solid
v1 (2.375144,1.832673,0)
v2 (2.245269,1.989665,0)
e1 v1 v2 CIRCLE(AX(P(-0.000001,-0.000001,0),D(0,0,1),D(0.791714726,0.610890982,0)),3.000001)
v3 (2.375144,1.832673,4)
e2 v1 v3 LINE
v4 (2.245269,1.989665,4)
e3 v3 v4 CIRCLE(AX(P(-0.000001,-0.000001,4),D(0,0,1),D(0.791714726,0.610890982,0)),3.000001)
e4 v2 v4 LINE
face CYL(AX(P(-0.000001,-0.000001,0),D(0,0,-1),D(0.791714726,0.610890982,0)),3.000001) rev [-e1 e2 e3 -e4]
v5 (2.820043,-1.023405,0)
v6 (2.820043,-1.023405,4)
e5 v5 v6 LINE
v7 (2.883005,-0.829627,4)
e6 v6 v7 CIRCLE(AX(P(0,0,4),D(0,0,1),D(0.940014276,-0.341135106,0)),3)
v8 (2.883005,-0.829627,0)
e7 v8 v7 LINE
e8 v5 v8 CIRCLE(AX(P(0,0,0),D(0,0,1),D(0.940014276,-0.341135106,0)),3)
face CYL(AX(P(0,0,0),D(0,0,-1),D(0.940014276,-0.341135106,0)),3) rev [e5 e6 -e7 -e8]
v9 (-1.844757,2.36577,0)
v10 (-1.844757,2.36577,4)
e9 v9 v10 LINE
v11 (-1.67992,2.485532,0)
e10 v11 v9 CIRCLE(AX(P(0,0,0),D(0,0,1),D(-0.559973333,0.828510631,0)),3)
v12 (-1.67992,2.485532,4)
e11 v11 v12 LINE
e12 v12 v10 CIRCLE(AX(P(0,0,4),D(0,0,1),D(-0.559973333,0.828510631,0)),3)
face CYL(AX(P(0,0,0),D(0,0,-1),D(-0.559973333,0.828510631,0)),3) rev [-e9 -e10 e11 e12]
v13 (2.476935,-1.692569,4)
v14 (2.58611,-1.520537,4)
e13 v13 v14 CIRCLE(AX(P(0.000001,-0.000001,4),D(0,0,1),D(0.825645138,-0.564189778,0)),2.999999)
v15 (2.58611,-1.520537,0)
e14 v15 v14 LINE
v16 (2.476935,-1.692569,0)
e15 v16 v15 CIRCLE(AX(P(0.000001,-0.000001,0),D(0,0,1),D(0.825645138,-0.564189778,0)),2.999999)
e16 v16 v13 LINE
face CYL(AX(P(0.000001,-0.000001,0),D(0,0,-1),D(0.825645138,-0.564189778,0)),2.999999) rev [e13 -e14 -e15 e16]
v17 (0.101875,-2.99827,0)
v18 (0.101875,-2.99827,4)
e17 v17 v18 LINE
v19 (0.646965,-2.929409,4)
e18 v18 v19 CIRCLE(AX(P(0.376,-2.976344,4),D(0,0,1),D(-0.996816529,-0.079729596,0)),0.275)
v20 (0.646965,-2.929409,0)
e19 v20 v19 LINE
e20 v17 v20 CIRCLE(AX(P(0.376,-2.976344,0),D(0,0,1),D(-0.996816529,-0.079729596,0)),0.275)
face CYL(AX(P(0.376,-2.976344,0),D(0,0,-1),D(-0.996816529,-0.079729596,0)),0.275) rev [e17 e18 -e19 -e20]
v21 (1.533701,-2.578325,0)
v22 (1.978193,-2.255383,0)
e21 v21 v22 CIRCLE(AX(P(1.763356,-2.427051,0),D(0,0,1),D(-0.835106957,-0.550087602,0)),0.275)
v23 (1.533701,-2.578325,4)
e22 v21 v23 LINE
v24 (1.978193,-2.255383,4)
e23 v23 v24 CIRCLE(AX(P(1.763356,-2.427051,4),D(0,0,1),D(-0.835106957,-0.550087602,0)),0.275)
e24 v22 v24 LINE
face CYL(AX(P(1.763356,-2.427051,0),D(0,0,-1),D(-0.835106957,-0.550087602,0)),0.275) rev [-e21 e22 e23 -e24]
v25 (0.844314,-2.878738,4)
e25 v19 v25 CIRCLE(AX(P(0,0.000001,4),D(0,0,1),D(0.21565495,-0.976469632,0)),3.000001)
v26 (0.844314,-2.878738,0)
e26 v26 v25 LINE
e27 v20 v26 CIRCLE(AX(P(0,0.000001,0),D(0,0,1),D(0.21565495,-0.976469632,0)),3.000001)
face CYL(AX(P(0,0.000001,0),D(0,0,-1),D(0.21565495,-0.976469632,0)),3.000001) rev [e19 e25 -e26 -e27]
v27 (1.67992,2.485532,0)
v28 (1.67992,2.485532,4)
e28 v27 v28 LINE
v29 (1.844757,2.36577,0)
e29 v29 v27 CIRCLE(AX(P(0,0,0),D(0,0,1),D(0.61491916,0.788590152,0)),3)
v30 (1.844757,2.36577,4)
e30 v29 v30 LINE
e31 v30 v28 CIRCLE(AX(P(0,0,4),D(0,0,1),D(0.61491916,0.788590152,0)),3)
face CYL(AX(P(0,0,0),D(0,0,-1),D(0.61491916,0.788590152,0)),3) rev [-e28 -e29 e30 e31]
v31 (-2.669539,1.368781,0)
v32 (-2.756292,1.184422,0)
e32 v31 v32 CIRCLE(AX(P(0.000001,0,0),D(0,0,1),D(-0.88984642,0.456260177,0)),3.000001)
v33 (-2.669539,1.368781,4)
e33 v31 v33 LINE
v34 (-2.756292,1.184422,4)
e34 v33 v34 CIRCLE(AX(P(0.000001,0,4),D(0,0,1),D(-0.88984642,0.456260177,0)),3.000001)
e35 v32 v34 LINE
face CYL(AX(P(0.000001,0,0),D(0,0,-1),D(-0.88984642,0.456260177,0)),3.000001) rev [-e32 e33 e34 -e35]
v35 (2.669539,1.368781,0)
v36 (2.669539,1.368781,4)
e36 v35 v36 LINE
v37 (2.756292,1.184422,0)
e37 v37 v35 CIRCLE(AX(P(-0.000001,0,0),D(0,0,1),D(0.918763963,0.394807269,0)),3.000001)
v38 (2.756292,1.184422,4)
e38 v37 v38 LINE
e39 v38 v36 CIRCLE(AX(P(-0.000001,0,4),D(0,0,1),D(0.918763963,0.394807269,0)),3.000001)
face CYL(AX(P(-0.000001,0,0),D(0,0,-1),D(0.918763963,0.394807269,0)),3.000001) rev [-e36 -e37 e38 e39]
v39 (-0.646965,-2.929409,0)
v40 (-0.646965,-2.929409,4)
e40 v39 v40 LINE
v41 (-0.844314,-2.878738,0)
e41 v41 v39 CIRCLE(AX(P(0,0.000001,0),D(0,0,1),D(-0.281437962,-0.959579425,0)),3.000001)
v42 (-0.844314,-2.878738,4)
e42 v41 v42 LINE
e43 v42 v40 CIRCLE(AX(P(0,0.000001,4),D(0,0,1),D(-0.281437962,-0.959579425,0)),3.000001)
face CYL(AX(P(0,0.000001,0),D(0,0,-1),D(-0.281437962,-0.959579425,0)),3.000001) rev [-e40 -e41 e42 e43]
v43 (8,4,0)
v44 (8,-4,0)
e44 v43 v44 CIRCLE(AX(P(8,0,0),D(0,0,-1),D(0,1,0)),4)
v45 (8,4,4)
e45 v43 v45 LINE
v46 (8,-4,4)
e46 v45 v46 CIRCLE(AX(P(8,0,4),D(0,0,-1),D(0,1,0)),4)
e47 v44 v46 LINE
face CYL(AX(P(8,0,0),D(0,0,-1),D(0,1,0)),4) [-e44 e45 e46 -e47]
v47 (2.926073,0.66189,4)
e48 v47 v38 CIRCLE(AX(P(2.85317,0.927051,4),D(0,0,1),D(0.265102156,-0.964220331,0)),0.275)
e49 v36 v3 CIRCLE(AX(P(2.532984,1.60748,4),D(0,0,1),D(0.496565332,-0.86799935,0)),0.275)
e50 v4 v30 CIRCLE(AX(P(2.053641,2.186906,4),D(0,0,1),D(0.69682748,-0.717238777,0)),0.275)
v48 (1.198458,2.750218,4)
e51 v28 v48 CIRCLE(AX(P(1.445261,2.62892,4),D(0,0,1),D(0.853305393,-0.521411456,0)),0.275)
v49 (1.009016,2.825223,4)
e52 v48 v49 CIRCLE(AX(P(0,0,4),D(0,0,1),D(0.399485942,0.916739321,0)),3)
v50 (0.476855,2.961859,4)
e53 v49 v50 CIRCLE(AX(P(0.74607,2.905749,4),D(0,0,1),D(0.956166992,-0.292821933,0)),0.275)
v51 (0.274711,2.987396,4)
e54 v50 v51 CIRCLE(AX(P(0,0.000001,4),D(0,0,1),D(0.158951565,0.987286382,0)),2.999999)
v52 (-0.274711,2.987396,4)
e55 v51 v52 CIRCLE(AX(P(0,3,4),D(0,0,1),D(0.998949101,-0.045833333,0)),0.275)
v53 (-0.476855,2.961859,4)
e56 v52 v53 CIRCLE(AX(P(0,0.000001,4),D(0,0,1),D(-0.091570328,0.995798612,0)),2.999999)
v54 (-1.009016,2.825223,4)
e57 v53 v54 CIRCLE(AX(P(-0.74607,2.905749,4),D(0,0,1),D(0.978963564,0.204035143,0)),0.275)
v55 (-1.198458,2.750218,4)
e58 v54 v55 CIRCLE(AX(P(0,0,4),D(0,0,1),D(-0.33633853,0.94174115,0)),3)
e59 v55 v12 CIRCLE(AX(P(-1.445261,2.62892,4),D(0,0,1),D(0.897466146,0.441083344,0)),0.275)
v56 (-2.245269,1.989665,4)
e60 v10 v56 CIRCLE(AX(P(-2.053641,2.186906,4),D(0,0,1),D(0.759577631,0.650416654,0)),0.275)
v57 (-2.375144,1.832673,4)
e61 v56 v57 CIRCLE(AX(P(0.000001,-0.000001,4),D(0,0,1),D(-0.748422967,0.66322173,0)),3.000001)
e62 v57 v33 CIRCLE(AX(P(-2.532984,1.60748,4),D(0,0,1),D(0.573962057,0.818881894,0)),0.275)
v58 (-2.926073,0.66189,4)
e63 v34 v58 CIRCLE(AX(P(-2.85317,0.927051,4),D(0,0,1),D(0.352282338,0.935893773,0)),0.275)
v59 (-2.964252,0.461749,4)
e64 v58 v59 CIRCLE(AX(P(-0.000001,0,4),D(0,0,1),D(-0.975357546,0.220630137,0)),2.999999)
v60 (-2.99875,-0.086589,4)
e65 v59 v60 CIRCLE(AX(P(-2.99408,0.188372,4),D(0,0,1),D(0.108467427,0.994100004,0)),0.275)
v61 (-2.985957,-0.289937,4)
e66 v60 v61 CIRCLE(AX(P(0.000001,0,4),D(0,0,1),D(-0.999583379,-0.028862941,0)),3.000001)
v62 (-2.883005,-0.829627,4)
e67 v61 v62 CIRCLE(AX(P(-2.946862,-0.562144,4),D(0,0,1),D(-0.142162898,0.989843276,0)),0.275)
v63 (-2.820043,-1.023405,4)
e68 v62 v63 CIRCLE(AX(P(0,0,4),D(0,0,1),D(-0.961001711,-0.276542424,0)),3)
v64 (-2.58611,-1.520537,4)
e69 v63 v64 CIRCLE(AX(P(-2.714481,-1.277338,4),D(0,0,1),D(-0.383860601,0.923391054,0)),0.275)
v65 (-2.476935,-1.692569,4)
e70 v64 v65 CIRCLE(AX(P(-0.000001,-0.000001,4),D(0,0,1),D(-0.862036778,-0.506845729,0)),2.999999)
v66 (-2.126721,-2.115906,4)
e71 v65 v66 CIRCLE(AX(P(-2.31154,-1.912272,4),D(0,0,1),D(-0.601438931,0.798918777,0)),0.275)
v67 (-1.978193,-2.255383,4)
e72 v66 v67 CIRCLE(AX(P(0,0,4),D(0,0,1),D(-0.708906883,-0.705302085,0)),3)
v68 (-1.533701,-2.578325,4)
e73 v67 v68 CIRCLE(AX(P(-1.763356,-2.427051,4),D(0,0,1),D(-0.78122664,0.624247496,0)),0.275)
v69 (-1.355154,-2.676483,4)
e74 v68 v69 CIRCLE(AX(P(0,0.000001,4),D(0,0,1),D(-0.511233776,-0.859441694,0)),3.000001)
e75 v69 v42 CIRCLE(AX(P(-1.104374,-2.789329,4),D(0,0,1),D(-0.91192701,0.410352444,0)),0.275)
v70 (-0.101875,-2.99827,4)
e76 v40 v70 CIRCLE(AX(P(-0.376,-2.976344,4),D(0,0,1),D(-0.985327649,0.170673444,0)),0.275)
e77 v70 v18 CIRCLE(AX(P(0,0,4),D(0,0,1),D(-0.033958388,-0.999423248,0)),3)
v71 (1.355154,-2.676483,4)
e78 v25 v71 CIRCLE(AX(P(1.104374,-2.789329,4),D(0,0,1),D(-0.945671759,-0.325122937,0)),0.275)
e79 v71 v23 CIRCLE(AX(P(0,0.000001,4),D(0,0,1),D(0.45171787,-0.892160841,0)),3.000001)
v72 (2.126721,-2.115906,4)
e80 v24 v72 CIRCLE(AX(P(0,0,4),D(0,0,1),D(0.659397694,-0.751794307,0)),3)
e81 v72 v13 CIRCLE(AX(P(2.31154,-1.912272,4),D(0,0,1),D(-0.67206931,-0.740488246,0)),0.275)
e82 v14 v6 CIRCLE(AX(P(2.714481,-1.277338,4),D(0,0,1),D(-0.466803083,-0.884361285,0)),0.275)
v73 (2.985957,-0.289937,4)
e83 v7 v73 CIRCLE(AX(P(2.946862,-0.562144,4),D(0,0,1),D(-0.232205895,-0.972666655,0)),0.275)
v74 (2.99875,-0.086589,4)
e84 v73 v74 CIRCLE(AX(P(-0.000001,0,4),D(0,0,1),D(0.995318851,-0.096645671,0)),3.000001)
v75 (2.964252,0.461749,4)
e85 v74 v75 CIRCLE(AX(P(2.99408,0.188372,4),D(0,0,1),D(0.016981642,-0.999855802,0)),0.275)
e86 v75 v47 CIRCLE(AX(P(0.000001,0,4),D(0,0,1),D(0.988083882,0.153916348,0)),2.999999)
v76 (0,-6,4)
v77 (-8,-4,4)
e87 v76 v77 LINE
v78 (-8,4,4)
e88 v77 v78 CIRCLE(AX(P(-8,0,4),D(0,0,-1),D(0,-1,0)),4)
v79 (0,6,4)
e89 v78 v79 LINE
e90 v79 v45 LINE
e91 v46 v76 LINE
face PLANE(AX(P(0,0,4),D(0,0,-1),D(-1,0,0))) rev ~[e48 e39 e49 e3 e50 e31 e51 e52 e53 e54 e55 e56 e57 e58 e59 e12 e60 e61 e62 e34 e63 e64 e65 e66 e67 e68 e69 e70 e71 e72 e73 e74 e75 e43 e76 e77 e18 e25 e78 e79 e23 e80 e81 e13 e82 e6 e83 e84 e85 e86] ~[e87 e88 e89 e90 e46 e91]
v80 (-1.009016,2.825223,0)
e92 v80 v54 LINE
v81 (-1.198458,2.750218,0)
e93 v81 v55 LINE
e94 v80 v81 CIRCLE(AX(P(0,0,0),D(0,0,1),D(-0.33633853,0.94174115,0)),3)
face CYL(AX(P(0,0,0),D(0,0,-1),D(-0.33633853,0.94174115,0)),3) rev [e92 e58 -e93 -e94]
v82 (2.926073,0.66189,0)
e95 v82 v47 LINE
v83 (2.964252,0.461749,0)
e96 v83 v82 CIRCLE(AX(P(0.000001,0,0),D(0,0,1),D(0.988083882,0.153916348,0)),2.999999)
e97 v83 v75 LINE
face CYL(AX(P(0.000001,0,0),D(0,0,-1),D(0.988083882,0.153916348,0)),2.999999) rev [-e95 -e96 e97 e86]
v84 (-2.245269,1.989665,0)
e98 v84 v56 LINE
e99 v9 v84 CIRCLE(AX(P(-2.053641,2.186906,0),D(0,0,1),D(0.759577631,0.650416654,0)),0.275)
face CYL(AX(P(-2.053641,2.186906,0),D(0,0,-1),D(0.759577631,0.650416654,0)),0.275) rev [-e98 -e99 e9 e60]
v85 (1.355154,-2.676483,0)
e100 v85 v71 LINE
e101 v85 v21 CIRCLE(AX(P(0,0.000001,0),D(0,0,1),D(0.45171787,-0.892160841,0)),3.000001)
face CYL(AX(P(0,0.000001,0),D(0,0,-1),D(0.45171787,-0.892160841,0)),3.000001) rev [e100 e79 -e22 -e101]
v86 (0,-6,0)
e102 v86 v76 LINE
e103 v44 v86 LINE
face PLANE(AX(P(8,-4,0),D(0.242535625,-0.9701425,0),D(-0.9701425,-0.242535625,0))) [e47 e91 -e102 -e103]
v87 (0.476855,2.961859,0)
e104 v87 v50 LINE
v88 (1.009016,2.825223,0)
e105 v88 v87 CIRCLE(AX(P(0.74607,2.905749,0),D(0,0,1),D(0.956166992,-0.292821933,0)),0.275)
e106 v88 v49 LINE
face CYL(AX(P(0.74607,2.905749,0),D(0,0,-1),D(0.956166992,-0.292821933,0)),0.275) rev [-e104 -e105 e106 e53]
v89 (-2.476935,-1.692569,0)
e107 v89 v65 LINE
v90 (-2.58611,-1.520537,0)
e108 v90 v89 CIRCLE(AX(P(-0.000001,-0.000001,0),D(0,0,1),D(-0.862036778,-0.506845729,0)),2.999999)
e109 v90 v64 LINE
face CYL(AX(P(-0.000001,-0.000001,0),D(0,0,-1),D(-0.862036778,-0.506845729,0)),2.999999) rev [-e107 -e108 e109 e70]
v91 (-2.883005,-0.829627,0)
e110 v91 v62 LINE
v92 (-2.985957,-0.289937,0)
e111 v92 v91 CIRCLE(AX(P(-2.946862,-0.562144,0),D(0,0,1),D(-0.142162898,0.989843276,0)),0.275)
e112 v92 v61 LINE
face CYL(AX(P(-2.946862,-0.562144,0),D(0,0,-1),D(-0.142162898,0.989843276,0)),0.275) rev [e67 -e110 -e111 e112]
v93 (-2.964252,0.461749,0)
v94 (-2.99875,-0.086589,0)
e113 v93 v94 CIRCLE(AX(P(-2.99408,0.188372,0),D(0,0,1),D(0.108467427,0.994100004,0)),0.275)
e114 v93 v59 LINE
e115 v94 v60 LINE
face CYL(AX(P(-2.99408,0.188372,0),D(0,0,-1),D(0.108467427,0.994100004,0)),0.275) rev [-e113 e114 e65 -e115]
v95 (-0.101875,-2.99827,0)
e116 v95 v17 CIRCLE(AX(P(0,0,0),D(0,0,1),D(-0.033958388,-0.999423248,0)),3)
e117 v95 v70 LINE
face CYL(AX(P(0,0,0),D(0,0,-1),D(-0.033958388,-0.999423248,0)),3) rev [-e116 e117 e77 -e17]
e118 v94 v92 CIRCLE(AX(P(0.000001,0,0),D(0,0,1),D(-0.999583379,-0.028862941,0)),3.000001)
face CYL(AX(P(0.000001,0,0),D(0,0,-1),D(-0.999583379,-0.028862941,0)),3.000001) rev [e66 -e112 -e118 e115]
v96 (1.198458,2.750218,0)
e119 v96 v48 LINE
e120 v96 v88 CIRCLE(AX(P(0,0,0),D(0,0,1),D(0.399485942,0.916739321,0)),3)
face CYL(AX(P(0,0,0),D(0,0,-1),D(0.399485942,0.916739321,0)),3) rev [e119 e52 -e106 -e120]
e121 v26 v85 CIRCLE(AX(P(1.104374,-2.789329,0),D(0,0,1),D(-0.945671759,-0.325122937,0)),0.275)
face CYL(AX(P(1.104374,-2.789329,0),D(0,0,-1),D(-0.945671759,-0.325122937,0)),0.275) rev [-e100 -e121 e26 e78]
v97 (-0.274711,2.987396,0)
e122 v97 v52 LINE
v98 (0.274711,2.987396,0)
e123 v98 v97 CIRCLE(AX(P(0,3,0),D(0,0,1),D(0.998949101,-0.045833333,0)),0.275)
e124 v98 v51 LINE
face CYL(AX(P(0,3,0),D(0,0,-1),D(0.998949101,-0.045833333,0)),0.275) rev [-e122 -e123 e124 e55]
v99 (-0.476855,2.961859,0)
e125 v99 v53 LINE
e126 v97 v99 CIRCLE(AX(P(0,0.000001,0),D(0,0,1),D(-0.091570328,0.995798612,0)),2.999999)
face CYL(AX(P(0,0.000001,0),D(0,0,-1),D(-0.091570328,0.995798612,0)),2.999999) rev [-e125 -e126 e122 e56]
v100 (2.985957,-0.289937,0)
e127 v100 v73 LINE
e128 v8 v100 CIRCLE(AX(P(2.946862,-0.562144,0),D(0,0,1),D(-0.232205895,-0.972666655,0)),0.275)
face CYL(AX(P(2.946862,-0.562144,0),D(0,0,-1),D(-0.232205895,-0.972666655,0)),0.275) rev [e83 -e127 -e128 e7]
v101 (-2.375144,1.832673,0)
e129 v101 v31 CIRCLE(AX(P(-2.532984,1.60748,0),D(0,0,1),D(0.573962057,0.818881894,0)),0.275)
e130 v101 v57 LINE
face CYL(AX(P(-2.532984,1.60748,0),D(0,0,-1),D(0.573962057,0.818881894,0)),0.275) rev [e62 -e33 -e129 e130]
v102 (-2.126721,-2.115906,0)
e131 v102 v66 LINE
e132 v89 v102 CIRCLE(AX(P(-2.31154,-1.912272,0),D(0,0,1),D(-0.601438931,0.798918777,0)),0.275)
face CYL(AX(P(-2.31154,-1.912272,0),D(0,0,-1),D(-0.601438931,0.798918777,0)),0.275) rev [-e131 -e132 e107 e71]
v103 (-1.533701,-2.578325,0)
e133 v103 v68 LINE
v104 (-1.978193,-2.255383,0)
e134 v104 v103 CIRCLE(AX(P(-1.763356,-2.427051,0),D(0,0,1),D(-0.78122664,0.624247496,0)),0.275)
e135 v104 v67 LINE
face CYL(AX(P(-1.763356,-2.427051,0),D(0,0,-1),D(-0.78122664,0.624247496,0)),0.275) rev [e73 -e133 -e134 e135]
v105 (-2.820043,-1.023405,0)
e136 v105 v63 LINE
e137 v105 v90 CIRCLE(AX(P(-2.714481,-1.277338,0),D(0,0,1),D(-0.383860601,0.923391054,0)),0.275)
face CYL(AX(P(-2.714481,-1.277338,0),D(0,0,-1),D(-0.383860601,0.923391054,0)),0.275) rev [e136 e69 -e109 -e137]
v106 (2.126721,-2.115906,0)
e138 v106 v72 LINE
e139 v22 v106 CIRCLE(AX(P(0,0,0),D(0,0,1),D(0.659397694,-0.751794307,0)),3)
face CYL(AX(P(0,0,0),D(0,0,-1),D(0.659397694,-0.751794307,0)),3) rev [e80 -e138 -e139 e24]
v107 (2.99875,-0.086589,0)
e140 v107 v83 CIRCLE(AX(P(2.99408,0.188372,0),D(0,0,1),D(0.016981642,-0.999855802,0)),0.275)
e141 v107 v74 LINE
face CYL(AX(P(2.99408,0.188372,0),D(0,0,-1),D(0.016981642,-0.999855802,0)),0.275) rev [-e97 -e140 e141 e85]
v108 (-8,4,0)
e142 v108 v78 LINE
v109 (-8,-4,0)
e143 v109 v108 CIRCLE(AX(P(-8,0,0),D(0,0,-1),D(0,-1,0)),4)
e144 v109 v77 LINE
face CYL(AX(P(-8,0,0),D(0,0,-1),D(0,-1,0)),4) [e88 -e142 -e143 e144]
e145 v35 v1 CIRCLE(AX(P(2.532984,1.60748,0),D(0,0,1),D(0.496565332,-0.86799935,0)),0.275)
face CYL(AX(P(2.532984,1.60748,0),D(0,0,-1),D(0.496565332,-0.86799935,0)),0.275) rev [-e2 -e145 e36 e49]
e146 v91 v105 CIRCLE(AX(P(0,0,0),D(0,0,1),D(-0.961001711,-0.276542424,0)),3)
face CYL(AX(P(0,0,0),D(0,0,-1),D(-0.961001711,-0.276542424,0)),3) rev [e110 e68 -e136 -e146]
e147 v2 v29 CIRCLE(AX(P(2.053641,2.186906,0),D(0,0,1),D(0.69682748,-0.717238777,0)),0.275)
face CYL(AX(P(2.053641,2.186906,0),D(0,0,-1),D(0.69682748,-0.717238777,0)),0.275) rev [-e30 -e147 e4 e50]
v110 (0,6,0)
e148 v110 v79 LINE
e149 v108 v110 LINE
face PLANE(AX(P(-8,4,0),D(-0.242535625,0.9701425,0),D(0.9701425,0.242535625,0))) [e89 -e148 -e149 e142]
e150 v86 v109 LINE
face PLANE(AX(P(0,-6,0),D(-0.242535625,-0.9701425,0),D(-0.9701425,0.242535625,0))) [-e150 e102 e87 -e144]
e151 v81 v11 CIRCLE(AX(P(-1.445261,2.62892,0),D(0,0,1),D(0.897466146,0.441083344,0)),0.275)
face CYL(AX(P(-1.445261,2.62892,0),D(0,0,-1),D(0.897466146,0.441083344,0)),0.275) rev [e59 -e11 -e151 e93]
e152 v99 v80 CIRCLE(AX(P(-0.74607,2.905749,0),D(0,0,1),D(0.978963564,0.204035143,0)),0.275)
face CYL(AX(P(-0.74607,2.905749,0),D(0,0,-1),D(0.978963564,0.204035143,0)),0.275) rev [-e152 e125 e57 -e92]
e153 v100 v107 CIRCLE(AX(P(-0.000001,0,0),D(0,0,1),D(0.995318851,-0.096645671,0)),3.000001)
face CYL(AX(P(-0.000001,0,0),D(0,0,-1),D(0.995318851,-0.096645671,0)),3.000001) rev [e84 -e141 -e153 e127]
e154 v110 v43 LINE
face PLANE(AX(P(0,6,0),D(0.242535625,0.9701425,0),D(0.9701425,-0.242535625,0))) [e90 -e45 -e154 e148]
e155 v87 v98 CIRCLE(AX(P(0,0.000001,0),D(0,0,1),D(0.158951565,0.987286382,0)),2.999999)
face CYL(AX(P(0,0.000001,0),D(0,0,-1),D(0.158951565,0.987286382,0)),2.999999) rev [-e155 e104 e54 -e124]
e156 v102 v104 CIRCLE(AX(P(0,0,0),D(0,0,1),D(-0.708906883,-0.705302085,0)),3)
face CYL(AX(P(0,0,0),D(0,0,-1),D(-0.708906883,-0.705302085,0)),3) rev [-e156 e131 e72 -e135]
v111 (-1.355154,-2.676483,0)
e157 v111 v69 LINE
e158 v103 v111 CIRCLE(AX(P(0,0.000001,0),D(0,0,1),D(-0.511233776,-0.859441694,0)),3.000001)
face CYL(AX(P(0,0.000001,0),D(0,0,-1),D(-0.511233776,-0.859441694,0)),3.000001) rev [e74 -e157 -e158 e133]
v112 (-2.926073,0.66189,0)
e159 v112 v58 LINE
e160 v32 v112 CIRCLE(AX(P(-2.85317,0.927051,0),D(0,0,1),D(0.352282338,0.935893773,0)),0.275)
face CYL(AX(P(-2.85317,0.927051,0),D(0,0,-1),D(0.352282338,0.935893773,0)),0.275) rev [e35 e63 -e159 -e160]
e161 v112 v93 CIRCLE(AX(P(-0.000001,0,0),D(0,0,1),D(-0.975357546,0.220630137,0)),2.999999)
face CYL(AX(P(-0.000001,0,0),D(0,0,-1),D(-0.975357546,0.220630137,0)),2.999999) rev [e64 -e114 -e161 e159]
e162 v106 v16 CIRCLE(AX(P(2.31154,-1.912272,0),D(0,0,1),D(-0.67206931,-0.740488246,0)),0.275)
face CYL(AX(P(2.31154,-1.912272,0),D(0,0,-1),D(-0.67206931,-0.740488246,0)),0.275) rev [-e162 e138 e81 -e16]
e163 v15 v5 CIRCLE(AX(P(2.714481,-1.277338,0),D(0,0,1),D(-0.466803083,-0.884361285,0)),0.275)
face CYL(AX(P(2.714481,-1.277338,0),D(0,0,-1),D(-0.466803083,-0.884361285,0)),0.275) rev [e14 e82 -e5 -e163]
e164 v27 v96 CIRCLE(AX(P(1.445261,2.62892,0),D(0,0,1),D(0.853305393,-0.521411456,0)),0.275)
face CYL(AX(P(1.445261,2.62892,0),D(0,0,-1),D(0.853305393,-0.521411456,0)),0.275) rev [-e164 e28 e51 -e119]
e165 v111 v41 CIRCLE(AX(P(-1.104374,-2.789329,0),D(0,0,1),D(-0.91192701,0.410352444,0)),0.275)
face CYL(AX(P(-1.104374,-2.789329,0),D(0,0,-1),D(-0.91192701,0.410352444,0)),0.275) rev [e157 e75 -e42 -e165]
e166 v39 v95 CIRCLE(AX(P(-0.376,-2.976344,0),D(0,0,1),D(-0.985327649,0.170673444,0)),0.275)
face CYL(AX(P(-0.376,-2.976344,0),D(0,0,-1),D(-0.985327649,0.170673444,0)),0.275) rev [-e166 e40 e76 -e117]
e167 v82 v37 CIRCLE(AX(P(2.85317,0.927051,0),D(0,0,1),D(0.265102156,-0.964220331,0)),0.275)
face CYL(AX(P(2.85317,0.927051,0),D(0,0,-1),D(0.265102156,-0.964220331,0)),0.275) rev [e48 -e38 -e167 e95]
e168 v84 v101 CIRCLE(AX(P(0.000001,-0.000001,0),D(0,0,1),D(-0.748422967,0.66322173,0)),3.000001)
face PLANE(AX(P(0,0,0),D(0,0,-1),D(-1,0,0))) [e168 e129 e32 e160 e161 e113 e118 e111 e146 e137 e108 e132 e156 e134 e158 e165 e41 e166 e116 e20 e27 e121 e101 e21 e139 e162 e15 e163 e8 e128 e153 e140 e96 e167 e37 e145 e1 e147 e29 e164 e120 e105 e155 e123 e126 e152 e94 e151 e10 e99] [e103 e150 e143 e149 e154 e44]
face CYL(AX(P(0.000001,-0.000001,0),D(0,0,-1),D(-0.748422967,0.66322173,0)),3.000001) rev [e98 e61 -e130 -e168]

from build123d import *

# Parameters (mm, degrees)
GRUNDK_RPER_DEPTH = 4


with BuildPart() as part:
    # Skizze1 → Grundkörper (new body)
    with BuildSketch(Plane.XY):
        with BuildLine():
            Line((-8, 4), (0, 6))
            Line((0, 6), (8, 4))
            ThreePointArc((8, 4), (12, 0), (8, -4))
            Line((8, -4), (0, -6))
            Line((0, -6), (-8, -4))
            ThreePointArc((-8, -4), (-12, 0), (-8, 4))
        make_face()
        with BuildLine():
            ThreePointArc((1.198457832, 2.75021796), (1.104373658, 2.789329458), (1.009015584, 2.825223452))
            ThreePointArc((1.009015584, 2.825223452), (0.81445938, 3.172109853), (0.476854681, 2.961859148))
            ThreePointArc((0.476854681, 2.961859148), (0.375999701, 2.976344104), (0.274711003, 2.987395833))
            ThreePointArc((0.274711003, 2.987395833), (0, 3.275), (-0.274711003, 2.987395833))
            ThreePointArc((-0.274711003, 2.987395833), (-0.375999701, 2.976344104), (-0.476854681, 2.961859148))
            ThreePointArc((-0.476854681, 2.961859148), (-0.81445938, 3.172109853), (-1.009015584, 2.825223452))
            ThreePointArc((-1.009015584, 2.825223452), (-1.104373658, 2.789329458), (-1.198457832, 2.75021796))
            ThreePointArc((-1.198457832, 2.75021796), (-1.577743283, 2.869904377), (-1.679920005, 2.48553189))
            ThreePointArc((-1.679920005, 2.48553189), (-1.763355757, 2.427050983), (-1.844757469, 2.365770462))
            ThreePointArc((-1.844757469, 2.365770462), (-2.241891772, 2.387372255), (-2.245268875, 1.989665218))
            ThreePointArc((-2.245268875, 1.989665218), (-2.311539728, 1.912271969), (-2.375144211, 1.832672906))
            ThreePointArc((-2.375144211, 1.832672906), (-2.765173956, 1.754832754), (-2.669539243, 1.368780564))
            ThreePointArc((-2.669539243, 1.368780564), (-2.714481157, 1.277337875), (-2.756291906, 1.184421771))
            ThreePointArc((-2.756291906, 1.184421771), (-3.114710091, 1.012030657), (-2.926072642, 0.661890392))
            ThreePointArc((-2.926072642, 0.661890392), (-2.946861752, 0.562143944), (-2.964251643, 0.46174906))
            ThreePointArc((-2.964251643, 0.46174906), (-3.268537536, 0.205638951), (-2.998750137, -0.086588787))
            ThreePointArc((-2.998750137, -0.086588787), (-2.994080185, -0.188371559), (-2.985956549, -0.289937043))
            ThreePointArc((-2.985956549, -0.289937043), (-3.216990746, -0.613673805), (-2.883005131, -0.829627274))
            ThreePointArc((-2.883005131, -0.829627274), (-2.853169549, -0.927050983), (-2.820042823, -1.023405335))
            ThreePointArc((-2.820042823, -1.023405335), (-2.963308597, -1.39442718), (-2.58611031, -1.520537228))
            ThreePointArc((-2.58611031, -1.520537228), (-2.532983777, -1.607480385), (-2.476935434, -1.692569306))
            ThreePointArc((-2.476935434, -1.692569306), (-2.52343087, -2.087563566), (-2.126720668, -2.115906237))
            ThreePointArc((-2.126720668, -2.115906237), (-2.053641318, -2.186905882), (-1.978193083, -2.255382922))
            ThreePointArc((-1.978193083, -2.255382922), (-1.924996701, -2.649530657), (-1.533701344, -2.578325074))
            ThreePointArc((-1.533701344, -2.578325074), (-1.445261022, -2.62892004), (-1.355153586, -2.676482535))
            ThreePointArc((-1.355153586, -2.676482535), (-1.20560791, -3.045017991), (-0.844313924, -2.878738265))
            ThreePointArc((-0.844313924, -2.878738265), (-0.746069661, -2.905749483), (-0.646964804, -2.929408907))
            ThreePointArc((-0.646964804, -2.929408907), (-0.41046634, -3.249175647), (-0.101875155, -2.998269743))
            ThreePointArc((-0.101875155, -2.998269743), (0, -3), (0.101875155, -2.998269743))
            ThreePointArc((0.101875155, -2.998269743), (0.41046634, -3.249175647), (0.646964804, -2.929408907))
            ThreePointArc((0.646964804, -2.929408907), (0.746069661, -2.905749483), (0.844313924, -2.878738265))
            ThreePointArc((0.844313924, -2.878738265), (1.20560791, -3.045017991), (1.355153586, -2.676482535))
            ThreePointArc((1.355153586, -2.676482535), (1.445261022, -2.62892004), (1.533701344, -2.578325074))
            ThreePointArc((1.533701344, -2.578325074), (1.924996701, -2.649530657), (1.978193083, -2.255382922))
            ThreePointArc((1.978193083, -2.255382922), (2.053641318, -2.186905882), (2.126720668, -2.115906237))
            ThreePointArc((2.126720668, -2.115906237), (2.52343087, -2.087563566), (2.476935434, -1.692569306))
            ThreePointArc((2.476935434, -1.692569306), (2.532983777, -1.607480385), (2.58611031, -1.520537228))
            ThreePointArc((2.58611031, -1.520537228), (2.963308597, -1.39442718), (2.820042823, -1.023405335))
            ThreePointArc((2.820042823, -1.023405335), (2.853169549, -0.927050983), (2.883005131, -0.829627274))
            ThreePointArc((2.883005131, -0.829627274), (3.216990746, -0.613673805), (2.985956549, -0.289937043))
            ThreePointArc((2.985956549, -0.289937043), (2.994080185, -0.188371559), (2.998750137, -0.086588787))
            ThreePointArc((2.998750137, -0.086588787), (3.268537536, 0.205638951), (2.964251643, 0.46174906))
            ThreePointArc((2.964251643, 0.46174906), (2.946861752, 0.562143944), (2.926072642, 0.661890392))
            ThreePointArc((2.926072642, 0.661890392), (3.114710091, 1.012030657), (2.756291906, 1.184421771))
            ThreePointArc((2.756291906, 1.184421771), (2.714481157, 1.277337875), (2.669539243, 1.368780564))
            ThreePointArc((2.669539243, 1.368780564), (2.765173956, 1.754832754), (2.375144211, 1.832672906))
            ThreePointArc((2.375144211, 1.832672906), (2.311539728, 1.912271969), (2.245268875, 1.989665218))
            ThreePointArc((2.245268875, 1.989665218), (2.241891772, 2.387372255), (1.844757469, 2.365770462))
            ThreePointArc((1.844757469, 2.365770462), (1.763355757, 2.427050983), (1.679920005, 2.48553189))
            ThreePointArc((1.679920005, 2.48553189), (1.577743283, 2.869904377), (1.198457832, 2.75021796))
        make_face(mode=Mode.SUBTRACT)
    extrude(amount=GRUNDK_RPER_DEPTH)


solid = part.part
